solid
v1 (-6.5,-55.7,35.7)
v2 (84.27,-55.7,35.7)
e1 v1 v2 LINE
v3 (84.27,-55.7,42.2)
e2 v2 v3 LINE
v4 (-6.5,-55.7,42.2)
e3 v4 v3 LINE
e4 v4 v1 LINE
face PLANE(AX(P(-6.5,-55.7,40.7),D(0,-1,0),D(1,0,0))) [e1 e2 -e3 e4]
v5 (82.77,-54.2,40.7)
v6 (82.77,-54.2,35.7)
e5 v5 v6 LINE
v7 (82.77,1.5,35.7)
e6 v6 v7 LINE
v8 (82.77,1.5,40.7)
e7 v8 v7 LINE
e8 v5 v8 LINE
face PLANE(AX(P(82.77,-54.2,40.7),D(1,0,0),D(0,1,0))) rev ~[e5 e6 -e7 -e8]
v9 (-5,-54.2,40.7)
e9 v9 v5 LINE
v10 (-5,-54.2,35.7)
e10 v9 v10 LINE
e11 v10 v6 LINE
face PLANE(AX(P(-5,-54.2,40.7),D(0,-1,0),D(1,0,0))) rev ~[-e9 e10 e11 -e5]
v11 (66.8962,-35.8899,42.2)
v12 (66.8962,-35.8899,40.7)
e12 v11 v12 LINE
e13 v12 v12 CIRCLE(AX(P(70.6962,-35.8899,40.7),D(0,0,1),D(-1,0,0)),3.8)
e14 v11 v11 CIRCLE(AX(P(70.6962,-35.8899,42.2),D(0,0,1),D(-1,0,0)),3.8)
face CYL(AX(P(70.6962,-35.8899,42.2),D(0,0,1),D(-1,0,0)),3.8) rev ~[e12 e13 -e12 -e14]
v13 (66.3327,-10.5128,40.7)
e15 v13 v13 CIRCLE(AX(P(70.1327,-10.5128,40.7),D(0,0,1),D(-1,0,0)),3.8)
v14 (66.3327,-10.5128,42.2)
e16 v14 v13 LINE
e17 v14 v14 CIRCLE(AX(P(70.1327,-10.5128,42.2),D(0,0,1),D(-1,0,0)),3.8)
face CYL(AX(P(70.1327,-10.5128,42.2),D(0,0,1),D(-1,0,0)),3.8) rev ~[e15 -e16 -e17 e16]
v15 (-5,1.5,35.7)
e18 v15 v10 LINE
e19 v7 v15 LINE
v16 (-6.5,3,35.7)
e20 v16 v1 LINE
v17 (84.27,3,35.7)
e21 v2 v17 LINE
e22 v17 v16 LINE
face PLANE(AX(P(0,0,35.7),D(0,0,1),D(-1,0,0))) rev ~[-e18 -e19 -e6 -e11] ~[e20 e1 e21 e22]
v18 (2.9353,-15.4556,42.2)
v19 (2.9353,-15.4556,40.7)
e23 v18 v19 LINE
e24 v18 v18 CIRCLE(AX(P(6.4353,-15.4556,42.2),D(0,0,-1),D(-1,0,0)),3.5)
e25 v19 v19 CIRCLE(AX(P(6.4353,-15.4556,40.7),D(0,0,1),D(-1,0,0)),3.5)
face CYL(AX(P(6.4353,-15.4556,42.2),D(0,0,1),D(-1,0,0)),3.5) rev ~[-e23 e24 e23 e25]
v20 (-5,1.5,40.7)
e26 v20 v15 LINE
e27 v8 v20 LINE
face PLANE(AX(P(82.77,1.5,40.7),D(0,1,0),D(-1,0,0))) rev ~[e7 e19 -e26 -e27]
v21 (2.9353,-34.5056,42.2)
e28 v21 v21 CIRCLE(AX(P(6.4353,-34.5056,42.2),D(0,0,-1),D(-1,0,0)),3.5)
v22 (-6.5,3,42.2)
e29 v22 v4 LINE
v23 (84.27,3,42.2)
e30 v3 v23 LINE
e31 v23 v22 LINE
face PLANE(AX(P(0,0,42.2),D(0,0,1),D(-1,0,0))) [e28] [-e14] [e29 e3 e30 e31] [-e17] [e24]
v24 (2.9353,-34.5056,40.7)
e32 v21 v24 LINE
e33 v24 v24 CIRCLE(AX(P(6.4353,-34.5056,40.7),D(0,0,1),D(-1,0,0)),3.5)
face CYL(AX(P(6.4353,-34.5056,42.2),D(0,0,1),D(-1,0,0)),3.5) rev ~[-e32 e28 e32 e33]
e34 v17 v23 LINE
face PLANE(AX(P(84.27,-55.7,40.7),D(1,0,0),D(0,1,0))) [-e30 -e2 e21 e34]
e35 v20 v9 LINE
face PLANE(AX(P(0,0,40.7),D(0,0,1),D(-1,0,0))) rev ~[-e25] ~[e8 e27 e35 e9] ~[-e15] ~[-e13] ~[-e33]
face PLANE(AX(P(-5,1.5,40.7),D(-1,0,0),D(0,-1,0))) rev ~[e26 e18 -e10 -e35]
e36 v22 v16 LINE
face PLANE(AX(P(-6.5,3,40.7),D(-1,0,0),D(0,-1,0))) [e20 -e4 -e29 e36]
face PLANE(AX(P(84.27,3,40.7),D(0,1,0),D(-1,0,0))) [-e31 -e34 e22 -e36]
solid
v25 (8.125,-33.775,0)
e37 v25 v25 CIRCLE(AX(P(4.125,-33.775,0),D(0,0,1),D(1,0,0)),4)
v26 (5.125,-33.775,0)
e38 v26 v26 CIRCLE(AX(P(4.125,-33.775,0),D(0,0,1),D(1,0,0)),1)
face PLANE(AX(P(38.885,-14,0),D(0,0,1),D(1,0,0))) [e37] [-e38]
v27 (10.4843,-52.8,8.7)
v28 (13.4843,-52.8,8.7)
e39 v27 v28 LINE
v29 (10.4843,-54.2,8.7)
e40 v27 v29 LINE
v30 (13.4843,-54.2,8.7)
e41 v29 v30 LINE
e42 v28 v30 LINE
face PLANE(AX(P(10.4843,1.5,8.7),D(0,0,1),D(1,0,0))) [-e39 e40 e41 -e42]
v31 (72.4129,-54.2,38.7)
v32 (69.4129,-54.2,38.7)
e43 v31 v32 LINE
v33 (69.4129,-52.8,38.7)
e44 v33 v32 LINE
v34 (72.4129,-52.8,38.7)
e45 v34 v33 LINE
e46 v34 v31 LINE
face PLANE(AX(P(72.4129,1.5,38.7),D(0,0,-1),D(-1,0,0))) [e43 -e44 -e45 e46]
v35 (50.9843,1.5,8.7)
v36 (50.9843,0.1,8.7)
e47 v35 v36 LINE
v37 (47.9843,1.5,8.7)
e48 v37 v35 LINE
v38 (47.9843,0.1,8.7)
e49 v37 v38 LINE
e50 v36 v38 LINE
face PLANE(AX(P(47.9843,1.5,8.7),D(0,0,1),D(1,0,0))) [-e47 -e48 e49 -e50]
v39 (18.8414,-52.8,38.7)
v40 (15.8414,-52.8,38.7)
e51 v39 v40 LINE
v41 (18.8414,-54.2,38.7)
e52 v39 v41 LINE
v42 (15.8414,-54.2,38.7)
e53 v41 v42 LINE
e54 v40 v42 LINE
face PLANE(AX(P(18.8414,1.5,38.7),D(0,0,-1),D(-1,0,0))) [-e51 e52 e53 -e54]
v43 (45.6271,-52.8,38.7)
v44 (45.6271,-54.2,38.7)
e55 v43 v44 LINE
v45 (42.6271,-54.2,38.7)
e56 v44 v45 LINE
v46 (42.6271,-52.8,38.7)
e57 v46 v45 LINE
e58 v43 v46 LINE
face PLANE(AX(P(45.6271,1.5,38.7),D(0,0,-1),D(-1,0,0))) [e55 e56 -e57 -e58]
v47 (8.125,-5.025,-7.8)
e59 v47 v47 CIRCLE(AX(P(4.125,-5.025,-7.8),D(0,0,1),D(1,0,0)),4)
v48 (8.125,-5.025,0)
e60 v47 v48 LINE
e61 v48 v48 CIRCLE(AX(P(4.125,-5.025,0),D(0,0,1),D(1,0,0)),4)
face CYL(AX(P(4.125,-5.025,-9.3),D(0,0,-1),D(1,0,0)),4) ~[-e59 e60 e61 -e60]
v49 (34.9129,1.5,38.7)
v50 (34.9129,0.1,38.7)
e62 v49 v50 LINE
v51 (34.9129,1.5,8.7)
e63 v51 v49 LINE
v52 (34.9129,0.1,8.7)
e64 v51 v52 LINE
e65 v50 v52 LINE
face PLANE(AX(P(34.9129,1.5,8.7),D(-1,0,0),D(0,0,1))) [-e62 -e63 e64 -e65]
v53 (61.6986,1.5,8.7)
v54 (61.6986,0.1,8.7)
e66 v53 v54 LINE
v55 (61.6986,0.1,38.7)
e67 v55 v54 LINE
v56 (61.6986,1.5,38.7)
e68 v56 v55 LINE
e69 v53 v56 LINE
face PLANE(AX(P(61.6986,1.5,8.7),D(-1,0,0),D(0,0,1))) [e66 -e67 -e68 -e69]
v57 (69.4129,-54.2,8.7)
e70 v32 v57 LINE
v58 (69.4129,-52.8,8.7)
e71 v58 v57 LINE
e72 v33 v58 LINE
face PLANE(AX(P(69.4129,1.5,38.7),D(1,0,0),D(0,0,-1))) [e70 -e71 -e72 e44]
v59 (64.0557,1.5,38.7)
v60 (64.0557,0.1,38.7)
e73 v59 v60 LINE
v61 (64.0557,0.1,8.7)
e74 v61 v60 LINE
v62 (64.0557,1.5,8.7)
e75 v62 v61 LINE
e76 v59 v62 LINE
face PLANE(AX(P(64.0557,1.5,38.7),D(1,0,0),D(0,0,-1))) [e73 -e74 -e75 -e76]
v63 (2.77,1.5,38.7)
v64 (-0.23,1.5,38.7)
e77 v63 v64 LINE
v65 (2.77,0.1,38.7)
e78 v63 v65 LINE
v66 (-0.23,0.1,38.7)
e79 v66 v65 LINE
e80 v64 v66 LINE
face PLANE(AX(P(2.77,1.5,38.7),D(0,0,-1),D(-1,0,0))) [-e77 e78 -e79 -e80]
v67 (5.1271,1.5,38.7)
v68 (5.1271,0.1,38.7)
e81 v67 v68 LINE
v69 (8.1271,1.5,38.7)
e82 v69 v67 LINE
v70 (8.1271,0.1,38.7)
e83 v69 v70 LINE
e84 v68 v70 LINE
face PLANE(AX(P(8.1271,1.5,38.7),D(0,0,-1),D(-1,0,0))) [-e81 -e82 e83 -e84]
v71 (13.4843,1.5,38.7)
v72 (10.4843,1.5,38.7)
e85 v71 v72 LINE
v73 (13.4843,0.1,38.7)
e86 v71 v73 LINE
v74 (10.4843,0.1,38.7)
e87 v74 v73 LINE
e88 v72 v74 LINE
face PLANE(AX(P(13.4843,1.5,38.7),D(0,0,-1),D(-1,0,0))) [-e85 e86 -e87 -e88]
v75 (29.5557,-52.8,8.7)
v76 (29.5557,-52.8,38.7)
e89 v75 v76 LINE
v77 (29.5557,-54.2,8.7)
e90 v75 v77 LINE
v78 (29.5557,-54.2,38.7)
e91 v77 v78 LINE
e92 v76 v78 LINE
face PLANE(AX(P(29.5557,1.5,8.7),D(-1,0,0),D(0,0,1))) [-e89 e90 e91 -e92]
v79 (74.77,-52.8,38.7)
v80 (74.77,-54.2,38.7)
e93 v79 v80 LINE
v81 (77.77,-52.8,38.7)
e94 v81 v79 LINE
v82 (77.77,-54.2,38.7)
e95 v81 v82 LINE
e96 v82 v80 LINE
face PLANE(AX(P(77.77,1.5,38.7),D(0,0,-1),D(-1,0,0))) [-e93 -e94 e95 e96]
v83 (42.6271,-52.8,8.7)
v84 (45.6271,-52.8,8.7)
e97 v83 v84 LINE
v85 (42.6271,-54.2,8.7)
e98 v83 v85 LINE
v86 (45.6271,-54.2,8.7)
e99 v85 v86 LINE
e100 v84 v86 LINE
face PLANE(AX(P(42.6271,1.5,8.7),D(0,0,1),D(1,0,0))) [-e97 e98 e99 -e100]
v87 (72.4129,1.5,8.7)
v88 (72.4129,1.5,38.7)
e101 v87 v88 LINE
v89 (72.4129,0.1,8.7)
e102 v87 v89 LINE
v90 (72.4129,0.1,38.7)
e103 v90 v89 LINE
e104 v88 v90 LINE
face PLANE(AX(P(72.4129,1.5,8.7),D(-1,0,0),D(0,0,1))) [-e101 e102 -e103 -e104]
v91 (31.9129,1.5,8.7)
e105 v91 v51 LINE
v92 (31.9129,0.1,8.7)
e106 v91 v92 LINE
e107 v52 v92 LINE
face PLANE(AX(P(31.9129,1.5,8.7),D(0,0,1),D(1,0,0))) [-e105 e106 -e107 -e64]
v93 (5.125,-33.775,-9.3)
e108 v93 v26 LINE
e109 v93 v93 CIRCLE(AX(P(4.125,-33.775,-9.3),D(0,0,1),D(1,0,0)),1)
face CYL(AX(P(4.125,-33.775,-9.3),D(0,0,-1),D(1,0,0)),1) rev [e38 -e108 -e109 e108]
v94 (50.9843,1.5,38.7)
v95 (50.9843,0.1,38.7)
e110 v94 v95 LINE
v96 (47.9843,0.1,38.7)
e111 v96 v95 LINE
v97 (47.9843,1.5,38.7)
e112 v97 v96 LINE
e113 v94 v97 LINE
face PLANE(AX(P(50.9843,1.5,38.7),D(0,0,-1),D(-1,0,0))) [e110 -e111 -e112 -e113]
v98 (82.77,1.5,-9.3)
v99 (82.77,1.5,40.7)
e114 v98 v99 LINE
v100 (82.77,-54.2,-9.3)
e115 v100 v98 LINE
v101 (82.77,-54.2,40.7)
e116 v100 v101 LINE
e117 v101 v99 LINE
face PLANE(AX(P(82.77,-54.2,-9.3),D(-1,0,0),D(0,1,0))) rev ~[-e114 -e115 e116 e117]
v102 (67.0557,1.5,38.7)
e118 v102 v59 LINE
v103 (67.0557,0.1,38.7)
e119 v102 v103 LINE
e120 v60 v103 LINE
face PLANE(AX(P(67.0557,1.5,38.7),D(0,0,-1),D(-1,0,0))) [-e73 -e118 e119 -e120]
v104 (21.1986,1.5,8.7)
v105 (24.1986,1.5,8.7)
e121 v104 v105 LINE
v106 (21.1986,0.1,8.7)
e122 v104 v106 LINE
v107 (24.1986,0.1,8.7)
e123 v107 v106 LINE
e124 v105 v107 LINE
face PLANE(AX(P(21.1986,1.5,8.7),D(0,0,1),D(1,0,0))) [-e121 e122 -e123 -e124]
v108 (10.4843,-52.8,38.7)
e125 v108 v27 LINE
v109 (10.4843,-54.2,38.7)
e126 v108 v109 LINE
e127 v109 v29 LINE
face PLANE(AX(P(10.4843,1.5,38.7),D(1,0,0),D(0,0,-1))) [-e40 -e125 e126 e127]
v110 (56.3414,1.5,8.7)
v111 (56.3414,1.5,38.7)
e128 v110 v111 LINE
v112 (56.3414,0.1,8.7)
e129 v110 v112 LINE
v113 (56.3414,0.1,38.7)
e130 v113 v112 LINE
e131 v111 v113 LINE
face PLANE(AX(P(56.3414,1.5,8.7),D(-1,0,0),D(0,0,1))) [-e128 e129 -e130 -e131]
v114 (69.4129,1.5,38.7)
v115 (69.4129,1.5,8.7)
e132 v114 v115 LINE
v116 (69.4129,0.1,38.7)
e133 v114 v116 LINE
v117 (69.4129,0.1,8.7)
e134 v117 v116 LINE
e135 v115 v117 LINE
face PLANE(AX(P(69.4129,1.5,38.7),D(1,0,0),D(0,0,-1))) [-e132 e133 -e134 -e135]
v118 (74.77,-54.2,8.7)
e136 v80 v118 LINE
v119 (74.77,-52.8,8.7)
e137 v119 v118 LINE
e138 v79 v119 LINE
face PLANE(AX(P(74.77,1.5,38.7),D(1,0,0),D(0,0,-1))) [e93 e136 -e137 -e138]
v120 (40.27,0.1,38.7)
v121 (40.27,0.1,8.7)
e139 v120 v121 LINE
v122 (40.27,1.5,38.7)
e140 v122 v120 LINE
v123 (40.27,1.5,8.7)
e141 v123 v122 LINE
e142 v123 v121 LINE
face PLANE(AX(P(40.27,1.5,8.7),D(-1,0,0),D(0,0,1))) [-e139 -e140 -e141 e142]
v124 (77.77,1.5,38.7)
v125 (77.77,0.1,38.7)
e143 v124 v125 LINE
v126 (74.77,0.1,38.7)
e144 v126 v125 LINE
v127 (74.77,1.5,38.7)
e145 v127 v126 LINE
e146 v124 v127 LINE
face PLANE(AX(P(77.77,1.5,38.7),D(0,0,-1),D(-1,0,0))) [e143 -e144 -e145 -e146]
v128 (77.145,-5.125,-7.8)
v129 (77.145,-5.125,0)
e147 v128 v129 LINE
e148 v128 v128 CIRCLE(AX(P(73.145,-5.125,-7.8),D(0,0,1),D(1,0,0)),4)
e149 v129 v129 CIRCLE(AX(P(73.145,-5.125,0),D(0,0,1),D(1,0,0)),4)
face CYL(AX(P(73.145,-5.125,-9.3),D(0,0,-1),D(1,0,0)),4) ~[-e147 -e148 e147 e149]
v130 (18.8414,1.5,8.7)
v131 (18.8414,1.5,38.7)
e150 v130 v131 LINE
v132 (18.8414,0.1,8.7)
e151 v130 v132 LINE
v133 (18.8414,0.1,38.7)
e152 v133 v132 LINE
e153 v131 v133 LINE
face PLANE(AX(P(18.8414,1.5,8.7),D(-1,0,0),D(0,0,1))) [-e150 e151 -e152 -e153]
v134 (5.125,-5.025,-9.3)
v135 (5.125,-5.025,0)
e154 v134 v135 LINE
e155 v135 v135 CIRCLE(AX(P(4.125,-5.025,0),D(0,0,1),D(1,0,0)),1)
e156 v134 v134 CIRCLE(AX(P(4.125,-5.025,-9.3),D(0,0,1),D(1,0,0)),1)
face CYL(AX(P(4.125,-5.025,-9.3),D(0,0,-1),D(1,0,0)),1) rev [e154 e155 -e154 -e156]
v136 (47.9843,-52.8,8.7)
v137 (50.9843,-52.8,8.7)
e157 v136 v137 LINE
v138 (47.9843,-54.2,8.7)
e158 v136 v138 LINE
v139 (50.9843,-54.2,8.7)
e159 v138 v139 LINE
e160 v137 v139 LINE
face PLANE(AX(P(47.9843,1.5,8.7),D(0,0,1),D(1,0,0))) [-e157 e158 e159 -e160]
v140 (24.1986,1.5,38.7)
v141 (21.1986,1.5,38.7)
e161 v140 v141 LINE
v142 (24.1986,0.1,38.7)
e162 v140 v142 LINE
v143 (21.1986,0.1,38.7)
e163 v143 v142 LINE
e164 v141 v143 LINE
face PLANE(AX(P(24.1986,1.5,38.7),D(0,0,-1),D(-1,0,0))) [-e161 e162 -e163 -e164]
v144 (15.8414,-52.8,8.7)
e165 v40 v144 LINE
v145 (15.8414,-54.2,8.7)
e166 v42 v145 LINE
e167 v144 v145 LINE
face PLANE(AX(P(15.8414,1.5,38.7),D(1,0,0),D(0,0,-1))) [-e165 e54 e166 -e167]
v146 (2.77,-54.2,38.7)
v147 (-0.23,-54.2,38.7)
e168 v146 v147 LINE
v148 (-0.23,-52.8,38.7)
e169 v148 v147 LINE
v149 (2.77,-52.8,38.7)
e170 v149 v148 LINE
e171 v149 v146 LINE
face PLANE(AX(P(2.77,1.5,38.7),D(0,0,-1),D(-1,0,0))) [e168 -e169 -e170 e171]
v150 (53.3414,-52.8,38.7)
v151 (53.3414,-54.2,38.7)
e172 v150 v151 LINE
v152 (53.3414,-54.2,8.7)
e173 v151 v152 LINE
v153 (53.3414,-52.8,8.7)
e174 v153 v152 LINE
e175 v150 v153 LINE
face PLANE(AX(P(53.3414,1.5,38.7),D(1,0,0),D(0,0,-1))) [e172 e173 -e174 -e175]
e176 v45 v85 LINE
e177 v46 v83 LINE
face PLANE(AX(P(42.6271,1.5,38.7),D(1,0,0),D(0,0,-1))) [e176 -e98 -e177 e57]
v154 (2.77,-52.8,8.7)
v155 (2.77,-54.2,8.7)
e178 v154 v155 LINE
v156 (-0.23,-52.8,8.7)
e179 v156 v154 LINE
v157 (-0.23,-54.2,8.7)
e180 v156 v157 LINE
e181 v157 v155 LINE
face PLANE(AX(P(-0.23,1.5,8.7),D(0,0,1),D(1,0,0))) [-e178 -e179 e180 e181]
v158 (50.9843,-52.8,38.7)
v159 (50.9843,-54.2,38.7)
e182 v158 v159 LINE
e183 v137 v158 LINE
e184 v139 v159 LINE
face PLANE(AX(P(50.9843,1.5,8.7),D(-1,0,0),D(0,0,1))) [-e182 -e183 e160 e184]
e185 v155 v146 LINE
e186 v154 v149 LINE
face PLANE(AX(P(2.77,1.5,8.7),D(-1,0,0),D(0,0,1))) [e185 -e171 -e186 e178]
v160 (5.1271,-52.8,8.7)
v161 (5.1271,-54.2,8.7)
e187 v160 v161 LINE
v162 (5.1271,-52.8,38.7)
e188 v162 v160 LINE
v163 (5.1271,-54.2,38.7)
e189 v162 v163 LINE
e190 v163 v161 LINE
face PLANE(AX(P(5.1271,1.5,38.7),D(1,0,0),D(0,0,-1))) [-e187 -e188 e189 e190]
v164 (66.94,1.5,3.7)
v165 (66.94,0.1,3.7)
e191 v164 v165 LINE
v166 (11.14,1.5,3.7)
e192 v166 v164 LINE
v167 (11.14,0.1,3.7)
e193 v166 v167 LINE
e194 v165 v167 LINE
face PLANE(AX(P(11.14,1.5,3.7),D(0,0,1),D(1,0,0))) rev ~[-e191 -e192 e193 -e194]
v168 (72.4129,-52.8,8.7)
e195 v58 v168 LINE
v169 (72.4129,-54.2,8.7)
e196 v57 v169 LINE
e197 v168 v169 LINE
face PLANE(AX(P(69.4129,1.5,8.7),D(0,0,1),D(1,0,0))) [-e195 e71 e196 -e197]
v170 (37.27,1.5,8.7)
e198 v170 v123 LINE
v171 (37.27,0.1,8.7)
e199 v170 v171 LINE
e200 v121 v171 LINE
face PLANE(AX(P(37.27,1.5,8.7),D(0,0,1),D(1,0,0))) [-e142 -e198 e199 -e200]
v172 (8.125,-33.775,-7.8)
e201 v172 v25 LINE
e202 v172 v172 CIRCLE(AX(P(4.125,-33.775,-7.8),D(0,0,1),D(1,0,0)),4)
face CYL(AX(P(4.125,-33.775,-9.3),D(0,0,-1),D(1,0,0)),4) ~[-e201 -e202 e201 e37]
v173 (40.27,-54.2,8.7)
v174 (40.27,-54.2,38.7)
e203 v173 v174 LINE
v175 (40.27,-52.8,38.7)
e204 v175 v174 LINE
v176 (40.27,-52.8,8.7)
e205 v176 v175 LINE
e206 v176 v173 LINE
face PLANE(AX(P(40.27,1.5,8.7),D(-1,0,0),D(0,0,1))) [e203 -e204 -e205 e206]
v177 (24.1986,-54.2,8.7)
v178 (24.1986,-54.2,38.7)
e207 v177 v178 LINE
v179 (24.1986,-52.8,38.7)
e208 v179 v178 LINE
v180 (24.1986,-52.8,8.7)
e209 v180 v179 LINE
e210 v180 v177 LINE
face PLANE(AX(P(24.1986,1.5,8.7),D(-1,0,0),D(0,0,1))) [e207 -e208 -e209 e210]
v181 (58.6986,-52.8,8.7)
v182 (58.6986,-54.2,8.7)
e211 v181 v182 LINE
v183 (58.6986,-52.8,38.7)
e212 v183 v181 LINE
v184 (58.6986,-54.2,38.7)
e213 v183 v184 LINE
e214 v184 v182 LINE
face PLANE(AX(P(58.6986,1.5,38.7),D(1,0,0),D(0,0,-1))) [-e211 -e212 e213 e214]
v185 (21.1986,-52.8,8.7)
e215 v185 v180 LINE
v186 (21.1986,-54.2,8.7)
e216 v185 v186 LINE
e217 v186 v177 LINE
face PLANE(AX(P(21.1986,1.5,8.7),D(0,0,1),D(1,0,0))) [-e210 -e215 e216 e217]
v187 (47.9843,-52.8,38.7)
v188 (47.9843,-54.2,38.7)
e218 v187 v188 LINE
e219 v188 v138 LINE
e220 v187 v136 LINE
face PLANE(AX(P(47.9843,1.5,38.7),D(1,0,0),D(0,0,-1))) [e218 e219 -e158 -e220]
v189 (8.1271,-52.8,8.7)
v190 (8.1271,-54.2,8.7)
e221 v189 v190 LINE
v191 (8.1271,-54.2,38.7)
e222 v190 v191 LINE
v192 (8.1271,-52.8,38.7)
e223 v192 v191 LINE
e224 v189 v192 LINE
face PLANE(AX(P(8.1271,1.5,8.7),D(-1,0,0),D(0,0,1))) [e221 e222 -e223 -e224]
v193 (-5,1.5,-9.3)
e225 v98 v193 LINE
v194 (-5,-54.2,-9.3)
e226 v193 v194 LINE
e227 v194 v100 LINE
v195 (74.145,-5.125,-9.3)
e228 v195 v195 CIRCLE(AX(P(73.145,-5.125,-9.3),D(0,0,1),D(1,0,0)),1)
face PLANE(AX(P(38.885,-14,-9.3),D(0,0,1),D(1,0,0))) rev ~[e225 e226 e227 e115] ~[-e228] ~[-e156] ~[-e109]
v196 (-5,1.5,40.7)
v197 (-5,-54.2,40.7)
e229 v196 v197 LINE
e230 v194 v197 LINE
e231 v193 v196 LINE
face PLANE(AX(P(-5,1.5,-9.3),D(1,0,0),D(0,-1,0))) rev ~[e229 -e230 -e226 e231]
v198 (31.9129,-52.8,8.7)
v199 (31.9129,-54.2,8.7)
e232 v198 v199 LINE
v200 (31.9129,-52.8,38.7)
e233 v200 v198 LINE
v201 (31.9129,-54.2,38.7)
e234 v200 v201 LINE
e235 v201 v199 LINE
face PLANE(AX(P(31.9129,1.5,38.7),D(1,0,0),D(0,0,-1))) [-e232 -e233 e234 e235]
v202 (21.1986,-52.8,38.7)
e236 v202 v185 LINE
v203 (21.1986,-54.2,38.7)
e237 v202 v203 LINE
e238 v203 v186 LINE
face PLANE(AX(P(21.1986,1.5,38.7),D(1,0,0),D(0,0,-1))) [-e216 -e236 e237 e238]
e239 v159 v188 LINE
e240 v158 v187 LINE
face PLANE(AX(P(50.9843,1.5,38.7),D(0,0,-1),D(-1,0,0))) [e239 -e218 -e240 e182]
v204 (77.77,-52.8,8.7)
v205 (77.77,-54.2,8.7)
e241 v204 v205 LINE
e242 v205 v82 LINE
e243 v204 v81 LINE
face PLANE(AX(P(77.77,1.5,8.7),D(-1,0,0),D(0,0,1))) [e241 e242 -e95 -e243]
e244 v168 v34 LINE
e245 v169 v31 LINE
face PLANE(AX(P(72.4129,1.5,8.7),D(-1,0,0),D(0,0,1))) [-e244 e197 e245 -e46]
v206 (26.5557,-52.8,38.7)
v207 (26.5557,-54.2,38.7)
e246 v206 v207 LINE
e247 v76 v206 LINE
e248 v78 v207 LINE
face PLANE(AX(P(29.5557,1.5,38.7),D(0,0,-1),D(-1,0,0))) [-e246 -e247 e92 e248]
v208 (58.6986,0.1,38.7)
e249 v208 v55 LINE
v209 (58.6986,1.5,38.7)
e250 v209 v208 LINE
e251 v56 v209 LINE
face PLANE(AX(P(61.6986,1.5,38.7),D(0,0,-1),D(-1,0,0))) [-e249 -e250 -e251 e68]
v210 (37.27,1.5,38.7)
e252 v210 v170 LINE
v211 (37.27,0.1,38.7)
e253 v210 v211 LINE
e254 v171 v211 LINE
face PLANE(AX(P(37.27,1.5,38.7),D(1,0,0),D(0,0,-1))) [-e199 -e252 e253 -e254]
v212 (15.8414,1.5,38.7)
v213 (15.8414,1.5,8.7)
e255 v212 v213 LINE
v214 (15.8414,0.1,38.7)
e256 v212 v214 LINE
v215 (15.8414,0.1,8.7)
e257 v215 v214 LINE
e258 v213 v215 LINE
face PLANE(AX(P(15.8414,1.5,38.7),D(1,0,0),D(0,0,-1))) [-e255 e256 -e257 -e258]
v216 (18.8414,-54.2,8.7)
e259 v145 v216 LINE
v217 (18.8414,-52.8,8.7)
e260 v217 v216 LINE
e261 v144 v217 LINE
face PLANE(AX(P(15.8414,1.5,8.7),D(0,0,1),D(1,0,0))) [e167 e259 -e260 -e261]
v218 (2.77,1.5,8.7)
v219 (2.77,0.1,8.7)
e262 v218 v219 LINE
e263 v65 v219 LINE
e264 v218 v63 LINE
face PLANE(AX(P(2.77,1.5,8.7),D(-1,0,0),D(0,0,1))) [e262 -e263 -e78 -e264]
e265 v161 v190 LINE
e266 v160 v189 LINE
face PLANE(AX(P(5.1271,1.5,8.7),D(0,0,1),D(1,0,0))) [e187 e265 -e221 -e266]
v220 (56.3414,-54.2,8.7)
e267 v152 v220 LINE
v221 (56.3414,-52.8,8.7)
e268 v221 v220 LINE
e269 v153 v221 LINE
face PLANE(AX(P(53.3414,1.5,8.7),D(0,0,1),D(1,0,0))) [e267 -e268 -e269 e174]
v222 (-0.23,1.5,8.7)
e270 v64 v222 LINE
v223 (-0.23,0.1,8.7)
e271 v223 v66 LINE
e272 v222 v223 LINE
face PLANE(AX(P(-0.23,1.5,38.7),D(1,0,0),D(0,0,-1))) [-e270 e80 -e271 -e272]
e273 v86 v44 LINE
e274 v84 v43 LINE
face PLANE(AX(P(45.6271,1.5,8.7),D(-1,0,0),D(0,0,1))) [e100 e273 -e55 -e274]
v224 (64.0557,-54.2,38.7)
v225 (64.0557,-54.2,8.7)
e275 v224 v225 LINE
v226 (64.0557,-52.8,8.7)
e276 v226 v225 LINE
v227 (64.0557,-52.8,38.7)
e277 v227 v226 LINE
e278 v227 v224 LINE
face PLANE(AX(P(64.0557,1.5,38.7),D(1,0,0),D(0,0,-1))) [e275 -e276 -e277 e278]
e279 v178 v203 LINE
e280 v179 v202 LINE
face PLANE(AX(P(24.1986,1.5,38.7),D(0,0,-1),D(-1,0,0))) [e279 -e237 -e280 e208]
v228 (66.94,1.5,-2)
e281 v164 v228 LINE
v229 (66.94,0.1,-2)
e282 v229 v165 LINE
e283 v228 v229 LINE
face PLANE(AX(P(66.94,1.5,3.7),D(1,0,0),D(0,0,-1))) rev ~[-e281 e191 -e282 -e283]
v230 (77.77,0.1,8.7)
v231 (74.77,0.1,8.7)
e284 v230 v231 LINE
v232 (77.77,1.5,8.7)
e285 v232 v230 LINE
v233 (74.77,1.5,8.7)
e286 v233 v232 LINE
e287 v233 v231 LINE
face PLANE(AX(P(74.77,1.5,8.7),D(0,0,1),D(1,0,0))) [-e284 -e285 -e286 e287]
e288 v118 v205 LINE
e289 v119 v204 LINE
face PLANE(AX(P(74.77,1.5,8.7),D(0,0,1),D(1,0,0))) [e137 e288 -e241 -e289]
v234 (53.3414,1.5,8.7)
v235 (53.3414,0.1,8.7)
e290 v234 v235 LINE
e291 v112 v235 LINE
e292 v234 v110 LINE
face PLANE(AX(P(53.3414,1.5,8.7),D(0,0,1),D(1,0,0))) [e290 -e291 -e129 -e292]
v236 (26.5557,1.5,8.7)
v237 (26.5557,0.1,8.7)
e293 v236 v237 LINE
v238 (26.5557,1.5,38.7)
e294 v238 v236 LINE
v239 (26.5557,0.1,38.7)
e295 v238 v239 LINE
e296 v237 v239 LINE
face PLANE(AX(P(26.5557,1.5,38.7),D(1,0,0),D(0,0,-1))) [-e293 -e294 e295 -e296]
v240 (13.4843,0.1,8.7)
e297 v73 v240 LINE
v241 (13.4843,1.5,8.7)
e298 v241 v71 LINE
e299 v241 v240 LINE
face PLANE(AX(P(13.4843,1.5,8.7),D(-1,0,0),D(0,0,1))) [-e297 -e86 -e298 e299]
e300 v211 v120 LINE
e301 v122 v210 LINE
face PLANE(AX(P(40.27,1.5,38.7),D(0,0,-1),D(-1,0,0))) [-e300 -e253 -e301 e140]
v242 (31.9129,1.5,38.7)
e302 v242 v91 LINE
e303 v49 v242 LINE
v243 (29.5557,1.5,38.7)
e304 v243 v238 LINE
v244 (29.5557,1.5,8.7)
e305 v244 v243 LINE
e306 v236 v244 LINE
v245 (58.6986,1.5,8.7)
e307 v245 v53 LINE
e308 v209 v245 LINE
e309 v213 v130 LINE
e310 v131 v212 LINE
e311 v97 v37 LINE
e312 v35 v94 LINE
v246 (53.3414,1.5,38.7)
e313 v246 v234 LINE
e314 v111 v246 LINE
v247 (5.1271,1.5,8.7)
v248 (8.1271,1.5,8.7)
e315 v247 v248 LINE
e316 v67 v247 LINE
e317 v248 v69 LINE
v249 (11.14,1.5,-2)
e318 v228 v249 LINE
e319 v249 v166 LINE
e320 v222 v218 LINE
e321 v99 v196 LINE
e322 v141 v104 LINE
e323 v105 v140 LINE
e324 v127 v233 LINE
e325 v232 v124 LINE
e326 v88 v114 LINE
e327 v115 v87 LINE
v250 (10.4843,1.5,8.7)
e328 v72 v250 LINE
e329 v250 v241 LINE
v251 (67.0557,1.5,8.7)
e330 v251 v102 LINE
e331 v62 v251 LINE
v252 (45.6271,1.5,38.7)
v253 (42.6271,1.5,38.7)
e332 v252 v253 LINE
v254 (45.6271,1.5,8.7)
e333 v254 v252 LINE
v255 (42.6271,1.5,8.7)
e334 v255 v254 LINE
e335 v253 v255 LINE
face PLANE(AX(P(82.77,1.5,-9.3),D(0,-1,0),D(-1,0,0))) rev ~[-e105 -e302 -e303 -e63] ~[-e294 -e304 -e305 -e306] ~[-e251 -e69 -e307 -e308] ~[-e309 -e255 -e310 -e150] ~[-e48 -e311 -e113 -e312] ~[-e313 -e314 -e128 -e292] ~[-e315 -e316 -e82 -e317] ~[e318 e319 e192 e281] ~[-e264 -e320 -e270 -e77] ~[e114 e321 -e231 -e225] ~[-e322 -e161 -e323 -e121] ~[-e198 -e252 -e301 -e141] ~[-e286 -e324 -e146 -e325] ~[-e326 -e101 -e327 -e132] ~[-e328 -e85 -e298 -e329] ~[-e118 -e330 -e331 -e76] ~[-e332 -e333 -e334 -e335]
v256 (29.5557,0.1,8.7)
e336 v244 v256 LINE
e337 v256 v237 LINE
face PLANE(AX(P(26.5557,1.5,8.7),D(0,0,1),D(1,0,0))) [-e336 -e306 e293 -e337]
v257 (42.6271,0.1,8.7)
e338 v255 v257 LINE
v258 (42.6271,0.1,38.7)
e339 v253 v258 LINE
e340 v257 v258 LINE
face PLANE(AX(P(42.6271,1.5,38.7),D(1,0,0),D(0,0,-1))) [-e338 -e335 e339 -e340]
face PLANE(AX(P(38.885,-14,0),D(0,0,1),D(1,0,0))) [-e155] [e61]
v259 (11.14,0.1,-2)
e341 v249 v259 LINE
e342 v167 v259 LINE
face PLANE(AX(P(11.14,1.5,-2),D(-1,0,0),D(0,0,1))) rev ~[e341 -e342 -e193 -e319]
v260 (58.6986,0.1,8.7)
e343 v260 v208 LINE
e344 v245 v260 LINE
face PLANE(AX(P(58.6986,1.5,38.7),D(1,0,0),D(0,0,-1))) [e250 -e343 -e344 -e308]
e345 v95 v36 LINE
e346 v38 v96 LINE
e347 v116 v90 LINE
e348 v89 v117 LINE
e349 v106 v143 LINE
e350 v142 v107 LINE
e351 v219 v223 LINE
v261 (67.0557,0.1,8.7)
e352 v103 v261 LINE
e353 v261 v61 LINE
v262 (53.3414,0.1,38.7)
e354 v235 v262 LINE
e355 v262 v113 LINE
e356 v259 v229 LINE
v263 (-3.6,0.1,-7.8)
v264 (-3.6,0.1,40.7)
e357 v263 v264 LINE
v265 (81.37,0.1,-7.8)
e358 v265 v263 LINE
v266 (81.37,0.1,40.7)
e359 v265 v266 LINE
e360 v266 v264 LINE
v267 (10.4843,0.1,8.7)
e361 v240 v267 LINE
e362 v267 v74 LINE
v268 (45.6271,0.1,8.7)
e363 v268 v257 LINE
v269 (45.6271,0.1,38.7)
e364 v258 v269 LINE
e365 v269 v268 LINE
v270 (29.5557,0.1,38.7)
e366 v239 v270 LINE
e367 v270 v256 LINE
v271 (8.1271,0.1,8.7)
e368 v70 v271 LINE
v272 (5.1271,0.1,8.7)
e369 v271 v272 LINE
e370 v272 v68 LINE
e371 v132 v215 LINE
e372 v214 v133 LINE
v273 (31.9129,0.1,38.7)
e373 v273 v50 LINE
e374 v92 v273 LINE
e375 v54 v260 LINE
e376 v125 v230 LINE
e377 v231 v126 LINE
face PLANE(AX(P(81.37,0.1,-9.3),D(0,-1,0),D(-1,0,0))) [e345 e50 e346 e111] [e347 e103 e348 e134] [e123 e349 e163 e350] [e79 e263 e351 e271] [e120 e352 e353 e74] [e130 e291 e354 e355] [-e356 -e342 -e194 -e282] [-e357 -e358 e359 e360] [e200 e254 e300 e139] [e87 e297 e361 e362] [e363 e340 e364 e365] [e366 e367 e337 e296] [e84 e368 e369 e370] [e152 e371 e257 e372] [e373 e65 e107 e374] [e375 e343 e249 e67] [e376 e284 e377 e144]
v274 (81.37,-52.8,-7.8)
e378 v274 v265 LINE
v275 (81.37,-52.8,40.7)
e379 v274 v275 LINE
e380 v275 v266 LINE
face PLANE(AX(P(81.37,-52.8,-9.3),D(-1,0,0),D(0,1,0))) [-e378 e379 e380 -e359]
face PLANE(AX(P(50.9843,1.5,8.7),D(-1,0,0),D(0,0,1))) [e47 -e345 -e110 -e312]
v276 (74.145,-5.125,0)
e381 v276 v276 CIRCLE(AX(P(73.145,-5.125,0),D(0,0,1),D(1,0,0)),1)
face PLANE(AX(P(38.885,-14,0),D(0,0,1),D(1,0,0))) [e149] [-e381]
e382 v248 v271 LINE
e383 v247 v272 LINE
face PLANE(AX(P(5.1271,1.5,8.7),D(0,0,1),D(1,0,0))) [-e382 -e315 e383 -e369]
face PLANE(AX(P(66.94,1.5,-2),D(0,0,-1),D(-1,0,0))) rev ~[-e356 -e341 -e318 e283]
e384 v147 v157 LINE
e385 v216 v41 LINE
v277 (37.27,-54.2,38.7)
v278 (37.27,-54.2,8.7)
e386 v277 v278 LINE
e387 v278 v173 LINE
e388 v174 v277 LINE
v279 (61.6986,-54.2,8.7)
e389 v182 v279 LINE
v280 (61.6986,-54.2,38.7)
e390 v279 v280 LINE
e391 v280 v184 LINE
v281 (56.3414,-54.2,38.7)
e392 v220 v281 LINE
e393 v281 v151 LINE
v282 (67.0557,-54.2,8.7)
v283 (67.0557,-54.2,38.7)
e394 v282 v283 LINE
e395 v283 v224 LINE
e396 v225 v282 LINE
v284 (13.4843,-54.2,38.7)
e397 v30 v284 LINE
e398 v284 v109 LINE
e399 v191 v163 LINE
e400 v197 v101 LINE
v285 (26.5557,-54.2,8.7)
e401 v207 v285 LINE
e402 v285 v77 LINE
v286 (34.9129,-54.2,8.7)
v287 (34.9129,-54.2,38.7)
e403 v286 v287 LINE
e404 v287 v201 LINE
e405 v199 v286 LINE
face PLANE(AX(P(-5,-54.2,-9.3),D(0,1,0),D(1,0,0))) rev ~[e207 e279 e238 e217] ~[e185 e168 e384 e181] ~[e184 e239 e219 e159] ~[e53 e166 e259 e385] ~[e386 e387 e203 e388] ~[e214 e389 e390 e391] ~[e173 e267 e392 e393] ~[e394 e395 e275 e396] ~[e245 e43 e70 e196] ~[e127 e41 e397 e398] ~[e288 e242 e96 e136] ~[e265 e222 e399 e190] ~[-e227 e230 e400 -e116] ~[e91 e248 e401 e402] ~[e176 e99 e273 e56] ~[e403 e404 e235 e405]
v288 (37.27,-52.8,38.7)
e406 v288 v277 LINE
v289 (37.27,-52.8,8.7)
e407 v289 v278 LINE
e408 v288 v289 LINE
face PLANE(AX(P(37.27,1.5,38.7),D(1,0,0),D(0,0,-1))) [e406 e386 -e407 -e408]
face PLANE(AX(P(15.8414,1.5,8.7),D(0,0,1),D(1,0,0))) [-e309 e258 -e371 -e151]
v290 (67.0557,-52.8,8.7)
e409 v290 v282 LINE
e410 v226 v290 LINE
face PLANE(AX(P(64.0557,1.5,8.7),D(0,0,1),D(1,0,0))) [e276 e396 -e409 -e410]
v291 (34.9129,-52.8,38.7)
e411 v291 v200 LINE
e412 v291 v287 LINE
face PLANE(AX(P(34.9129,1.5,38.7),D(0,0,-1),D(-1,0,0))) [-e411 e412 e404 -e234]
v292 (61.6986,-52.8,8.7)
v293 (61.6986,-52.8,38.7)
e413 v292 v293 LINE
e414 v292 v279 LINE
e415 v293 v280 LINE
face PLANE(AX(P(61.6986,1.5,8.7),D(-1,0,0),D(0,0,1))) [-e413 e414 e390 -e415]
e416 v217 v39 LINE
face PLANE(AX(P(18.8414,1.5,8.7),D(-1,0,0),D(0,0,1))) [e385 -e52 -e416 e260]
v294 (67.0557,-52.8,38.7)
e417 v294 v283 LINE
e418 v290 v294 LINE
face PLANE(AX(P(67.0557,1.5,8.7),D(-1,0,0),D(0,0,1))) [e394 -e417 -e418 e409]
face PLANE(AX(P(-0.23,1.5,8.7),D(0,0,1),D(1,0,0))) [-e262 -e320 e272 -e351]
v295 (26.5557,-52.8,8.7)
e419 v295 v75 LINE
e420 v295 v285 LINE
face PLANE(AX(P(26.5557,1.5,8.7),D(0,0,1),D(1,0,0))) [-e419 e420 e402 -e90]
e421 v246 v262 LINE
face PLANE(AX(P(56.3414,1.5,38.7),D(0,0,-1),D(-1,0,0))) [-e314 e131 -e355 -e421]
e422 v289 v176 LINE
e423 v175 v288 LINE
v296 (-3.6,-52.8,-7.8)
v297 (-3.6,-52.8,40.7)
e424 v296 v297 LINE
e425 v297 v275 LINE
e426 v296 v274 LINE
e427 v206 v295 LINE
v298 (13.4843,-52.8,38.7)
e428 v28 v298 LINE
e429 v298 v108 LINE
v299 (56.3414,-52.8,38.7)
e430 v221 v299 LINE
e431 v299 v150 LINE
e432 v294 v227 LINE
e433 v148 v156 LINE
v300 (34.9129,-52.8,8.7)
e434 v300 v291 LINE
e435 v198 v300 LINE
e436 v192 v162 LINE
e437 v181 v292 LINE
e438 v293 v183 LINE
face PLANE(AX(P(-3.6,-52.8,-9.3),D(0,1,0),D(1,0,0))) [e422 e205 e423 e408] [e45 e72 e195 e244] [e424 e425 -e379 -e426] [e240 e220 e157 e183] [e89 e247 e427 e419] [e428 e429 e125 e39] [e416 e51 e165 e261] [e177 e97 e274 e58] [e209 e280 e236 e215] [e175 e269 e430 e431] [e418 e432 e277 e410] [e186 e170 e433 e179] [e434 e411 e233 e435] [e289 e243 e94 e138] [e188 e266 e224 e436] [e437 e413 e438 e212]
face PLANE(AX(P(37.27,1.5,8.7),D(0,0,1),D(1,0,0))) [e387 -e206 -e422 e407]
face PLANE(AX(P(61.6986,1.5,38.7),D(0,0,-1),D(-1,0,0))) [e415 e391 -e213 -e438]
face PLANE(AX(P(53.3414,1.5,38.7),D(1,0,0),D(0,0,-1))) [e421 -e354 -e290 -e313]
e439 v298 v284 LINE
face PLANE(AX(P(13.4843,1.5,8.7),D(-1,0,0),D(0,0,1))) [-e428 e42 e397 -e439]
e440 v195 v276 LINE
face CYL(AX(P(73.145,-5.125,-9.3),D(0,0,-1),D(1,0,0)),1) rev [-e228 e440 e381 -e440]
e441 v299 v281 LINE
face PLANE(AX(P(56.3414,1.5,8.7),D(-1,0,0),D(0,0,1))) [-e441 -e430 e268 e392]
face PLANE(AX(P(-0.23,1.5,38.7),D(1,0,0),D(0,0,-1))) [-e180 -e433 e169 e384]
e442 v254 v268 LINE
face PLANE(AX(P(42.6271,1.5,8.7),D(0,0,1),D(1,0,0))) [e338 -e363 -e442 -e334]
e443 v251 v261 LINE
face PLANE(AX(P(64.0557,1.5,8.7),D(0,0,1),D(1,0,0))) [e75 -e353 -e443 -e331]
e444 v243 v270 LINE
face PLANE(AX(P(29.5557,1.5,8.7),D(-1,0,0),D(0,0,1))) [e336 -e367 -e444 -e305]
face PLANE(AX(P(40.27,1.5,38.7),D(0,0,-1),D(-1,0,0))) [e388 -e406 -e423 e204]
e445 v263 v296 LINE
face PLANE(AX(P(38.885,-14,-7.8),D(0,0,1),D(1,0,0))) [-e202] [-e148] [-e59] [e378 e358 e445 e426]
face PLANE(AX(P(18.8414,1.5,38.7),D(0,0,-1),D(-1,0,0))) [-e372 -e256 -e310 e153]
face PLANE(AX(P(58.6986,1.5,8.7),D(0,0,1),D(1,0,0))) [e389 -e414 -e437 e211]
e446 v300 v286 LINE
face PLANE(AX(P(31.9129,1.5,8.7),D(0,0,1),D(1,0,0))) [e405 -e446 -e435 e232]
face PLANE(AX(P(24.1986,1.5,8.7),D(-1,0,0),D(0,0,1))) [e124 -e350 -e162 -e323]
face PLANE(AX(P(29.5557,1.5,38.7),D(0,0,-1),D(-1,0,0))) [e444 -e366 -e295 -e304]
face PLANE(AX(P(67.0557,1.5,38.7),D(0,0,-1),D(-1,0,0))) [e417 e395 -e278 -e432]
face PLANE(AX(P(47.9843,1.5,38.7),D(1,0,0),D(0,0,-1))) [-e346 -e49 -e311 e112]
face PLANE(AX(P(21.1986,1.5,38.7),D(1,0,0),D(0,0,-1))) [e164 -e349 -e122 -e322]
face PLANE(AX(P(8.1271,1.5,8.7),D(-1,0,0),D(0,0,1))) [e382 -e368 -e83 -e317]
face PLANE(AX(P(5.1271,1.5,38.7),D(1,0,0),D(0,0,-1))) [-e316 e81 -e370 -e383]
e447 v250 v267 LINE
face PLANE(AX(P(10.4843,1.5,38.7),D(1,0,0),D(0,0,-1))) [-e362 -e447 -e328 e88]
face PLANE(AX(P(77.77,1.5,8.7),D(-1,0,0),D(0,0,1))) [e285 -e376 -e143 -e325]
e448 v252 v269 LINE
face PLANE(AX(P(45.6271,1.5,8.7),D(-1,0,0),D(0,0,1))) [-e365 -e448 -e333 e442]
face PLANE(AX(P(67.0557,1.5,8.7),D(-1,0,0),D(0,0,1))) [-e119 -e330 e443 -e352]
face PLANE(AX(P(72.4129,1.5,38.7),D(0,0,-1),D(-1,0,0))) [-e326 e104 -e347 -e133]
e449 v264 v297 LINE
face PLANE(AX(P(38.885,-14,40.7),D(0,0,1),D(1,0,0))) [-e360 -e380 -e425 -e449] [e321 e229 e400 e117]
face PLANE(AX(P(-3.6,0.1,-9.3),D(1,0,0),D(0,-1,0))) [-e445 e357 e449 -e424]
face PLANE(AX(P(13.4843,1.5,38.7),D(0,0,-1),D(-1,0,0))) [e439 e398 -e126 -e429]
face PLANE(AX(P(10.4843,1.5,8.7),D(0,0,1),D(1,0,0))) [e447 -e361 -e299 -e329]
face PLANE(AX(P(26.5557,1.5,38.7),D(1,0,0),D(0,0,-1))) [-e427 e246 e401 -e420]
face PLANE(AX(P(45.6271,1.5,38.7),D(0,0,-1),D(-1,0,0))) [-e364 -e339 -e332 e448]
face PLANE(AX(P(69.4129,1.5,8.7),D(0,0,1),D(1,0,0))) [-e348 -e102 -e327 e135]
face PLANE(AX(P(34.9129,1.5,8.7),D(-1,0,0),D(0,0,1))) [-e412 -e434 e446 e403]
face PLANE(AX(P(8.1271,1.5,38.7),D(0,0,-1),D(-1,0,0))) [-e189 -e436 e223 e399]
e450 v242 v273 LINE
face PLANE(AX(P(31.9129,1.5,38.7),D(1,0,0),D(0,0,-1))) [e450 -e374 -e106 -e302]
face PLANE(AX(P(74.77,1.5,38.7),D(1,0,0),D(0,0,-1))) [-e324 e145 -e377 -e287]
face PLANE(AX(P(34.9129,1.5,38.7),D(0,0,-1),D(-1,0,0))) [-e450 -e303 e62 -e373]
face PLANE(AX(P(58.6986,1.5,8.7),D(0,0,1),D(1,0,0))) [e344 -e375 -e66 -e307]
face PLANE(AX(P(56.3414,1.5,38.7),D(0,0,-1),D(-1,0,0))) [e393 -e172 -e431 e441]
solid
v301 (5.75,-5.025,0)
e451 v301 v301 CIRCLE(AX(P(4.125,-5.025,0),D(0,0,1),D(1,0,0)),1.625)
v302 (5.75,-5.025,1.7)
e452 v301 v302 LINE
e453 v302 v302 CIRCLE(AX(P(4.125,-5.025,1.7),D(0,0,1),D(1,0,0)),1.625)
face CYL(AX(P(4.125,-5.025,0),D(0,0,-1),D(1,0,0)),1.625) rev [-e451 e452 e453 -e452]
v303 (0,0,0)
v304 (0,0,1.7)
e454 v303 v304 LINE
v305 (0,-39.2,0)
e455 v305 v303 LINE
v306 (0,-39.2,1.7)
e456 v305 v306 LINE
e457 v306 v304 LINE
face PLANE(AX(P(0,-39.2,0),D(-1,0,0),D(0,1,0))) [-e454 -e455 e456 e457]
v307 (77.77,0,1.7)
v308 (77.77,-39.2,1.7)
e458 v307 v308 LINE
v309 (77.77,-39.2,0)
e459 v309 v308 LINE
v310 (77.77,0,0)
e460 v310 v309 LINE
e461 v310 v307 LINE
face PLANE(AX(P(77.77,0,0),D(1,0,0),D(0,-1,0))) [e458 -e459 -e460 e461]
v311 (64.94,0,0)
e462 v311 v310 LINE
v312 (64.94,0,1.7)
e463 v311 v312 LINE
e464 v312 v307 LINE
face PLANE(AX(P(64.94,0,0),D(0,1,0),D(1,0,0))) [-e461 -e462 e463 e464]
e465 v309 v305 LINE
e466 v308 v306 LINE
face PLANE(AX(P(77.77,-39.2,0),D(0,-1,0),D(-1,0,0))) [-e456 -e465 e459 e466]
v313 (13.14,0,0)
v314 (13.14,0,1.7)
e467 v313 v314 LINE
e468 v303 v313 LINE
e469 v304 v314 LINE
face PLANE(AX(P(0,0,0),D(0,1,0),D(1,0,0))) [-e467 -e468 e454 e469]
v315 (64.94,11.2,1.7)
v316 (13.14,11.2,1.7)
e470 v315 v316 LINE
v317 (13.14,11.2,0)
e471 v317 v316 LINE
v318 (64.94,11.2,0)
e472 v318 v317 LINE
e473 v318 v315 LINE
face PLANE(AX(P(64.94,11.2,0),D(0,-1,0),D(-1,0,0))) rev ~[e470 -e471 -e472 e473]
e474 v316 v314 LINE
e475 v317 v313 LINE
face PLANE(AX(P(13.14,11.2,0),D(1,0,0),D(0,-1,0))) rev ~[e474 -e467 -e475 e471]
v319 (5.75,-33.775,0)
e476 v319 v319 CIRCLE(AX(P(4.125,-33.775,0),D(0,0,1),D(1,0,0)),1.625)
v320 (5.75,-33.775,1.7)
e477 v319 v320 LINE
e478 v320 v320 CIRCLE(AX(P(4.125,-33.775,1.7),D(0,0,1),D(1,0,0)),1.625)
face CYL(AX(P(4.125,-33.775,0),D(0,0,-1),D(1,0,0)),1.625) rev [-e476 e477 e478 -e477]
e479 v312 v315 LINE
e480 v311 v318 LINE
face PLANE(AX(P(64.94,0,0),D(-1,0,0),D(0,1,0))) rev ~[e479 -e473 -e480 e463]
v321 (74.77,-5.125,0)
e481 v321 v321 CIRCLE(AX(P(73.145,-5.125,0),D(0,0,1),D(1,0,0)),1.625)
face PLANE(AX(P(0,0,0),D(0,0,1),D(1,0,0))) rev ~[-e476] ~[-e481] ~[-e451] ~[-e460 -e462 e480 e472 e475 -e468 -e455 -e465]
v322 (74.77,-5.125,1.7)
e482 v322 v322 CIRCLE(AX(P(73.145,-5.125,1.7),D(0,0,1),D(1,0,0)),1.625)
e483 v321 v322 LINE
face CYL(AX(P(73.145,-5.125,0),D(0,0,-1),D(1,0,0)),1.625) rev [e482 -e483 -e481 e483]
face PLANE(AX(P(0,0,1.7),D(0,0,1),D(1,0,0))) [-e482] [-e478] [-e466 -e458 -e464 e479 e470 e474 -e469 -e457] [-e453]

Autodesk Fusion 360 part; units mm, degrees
sketch "Sketch1" plane through (0, 0, 0) normal (0, 0, 1) x (1, 0, 0) in component "Board"
  line L0 (0, 0) -> (77.77, 0)
  line L1 (77.77, 0) -> (77.77, -39.2)
  line L2 (77.77, -39.2) -> (0, -39.2)
  line L3 (0, -39.2) -> (0, 0)
  line L4 (13.14, 0) -> (64.94, 0)
  line L5 (64.94, 0) -> (64.94, 11.2)
  line L6 (64.94, 11.2) -> (13.14, 11.2)
  line L7 (13.14, 11.2) -> (13.14, 0)
  circle A0 centre (4.125, -5.025) radius 1.625
  circle A1 centre (73.145, -5.125) radius 1.625
  circle A2 centre (4.125, -33.775) radius 1.625
  dimension "d1" = 77.77
  dimension "d2" = 39.2
  dimension "d3" = 51.8
  dimension "d4" = 11.2
  dimension "d5" = 13.14
  dimension "d6" = 12.83
  dimension "d7" = 3.25
  dimension "d8" = 3.25
  dimension "d9" = 3.25
  dimension "d10" = 4.125
  dimension "d11" = 5.425
  dimension "d12" = 4.125
  dimension "d13" = 5.025
  dimension "d14" = 4.625
  dimension "d15" = 5.125
extrude "Extrude1" add sketch "Sketch1" along normal blind 1.7 makes body 1 in component "Board"
ref_plane "WorkPlane1" through (38.885, -14, -9.3) normal (0, 0, 1) x (1, 0, 0) in component "Case"
sketch "Sketch1 (2)" plane through (38.885, -14, -9.3) normal (0, 0, 1) x (1, 0, 0) in component "Case"
  line L0 (-43.885, -40.2) -> (43.885, -40.2)
  line L1 (43.885, -40.2) -> (43.885, 15.5)
  line L2 (43.885, 15.5) -> (-43.885, 15.5)
  line L3 (-43.885, 15.5) -> (-43.885, -40.2)
  line L4 (-38.885, -25.2) -> (38.885, -25.2)
  line L5 (-38.885, 14) -> (-38.885, -25.2)
  line L6 (38.885, -25.2) -> (38.885, 14)
  line L7 (-25.745, 14) -> (-38.885, 14)
  line L8 (-42.485, 14.1) -> (-42.485, -38.8)
  line L9 (-42.485, -38.8) -> (42.485, -38.8)
  line L10 (42.485, -38.8) -> (42.485, 14.1)
  line L11 (42.485, 14.1) -> (-42.485, 14.1)
  circle A0 centre (-34.76, 8.975) radius 1.625
  circle A1 centre (-34.76, -19.775) radius 1.625
  circle A2 centre (34.26, 8.875) radius 1.625
  circle A3 centre (-34.76, 8.975) radius 4
  circle A4 centre (34.26, 8.875) radius 4
  circle A5 centre (-34.76, -19.775) radius 4
  circle A6 centre (-34.76, 8.975) radius 1
  circle A7 centre (34.26, 8.875) radius 1
  circle A8 centre (-34.76, -19.775) radius 1
  dimension "d19" = 15
  dimension "d20" = 5
  dimension "d21" = 5
  dimension "d22" = 1.5
  dimension "d23" = 1.4
  dimension "d24" = 8
  dimension "d25" = 8
  dimension "d26" = 8
  dimension "d29" = 2
  dimension "d30" = 2
  dimension "d31" = 2
extrude "Extrude1'" add sketch "Sketch1 (2)" along normal up to surface (9.3 mm away) separate body contours A0 | A1 | A2 | A3 | A4 | A5 makes body 2 at (8.12, -33.9744, -3.1) makes body 3 at (8.12, -5.2244, -3.1) makes body 4 at (77.14, -5.3244, -3.1) in component "Case"
extrude "Extrude2" add sketch "Sketch1 (2)" along normal blind 50 separate body contours L0 L1 L2 L3 makes body 5 in component "Case"
sketch "Sketch2" plane through (0, 1.5, 0) normal (0, 1, 0) x (-1, 0, 0) in component "Case"
  line L0 (-82.77, -9.3) -> (5, -9.3)
  line L1 (5, -9.3) -> (5, 40.7)
  line L2 (5, 40.7) -> (-82.77, 40.7)
  line L3 (-82.77, 40.7) -> (-82.77, -9.3)
  line L4 (-64.94, 0) -> (-13.14, 0)
  line L5 (-13.14, 0) -> (-13.14, 1.7)
  line L6 (-13.14, 1.7) -> (-64.94, 1.7)
  line L7 (-64.94, 1.7) -> (-64.94, 0)
  line L8 (-66.94, -2) -> (-11.14, -2)
  line L9 (-11.14, -2) -> (-11.14, 3.7)
  line L10 (-11.14, 3.7) -> (-66.94, 3.7)
  line L11 (-66.94, 3.7) -> (-66.94, -2)
  line L12 (-77.77, 38.7) -> (-74.77, 38.7)
  line L13 (-74.77, 38.7) -> (-74.77, 8.7)
  line L14 (-74.77, 8.7) -> (-77.77, 8.7)
  line L15 (-77.77, 8.7) -> (-77.77, 38.7)
  line L16 (-69.4129, 38.7) -> (-69.4129, 8.7)
  line L17 (-72.4129, 8.7) -> (-72.4129, 38.7)
  line L18 (-72.4129, 38.7) -> (-69.4129, 38.7)
  line L19 (-69.4129, 8.7) -> (-72.4129, 8.7)
  line L20 (-64.0557, 38.7) -> (-64.0557, 8.7)
  line L21 (-67.0557, 8.7) -> (-67.0557, 38.7)
  line L22 (-67.0557, 38.7) -> (-64.0557, 38.7)
  line L23 (-64.0557, 8.7) -> (-67.0557, 8.7)
  line L24 (-58.6986, 38.7) -> (-58.6986, 8.7)
  line L25 (-61.6986, 8.7) -> (-61.6986, 38.7)
  line L26 (-61.6986, 38.7) -> (-58.6986, 38.7)
  line L27 (-58.6986, 8.7) -> (-61.6986, 8.7)
  line L28 (-53.3414, 38.7) -> (-53.3414, 8.7)
  line L29 (-56.3414, 8.7) -> (-56.3414, 38.7)
  line L30 (-56.3414, 38.7) -> (-53.3414, 38.7)
  line L31 (-53.3414, 8.7) -> (-56.3414, 8.7)
  line L32 (-47.9843, 38.7) -> (-47.9843, 8.7)
  line L33 (-50.9843, 8.7) -> (-50.9843, 38.7)
  line L34 (-50.9843, 38.7) -> (-47.9843, 38.7)
  line L35 (-47.9843, 8.7) -> (-50.9843, 8.7)
  line L36 (-42.6271, 38.7) -> (-42.6271, 8.7)
  line L37 (-45.6271, 8.7) -> (-45.6271, 38.7)
  line L38 (-45.6271, 38.7) -> (-42.6271, 38.7)
  line L39 (-42.6271, 8.7) -> (-45.6271, 8.7)
  line L40 (-37.27, 38.7) -> (-37.27, 8.7)
  line L41 (-40.27, 8.7) -> (-40.27, 38.7)
  line L42 (-40.27, 38.7) -> (-37.27, 38.7)
  line L43 (-37.27, 8.7) -> (-40.27, 8.7)
  line L44 (-31.9129, 38.7) -> (-31.9129, 8.7)
  line L45 (-34.9129, 8.7) -> (-34.9129, 38.7)
  line L46 (-34.9129, 38.7) -> (-31.9129, 38.7)
  line L47 (-31.9129, 8.7) -> (-34.9129, 8.7)
  line L48 (-26.5557, 38.7) -> (-26.5557, 8.7)
  line L49 (-29.5557, 8.7) -> (-29.5557, 38.7)
  line L50 (-29.5557, 38.7) -> (-26.5557, 38.7)
  line L51 (-26.5557, 8.7) -> (-29.5557, 8.7)
  line L52 (-21.1986, 38.7) -> (-21.1986, 8.7)
  line L53 (-24.1986, 8.7) -> (-24.1986, 38.7)
  line L54 (-24.1986, 38.7) -> (-21.1986, 38.7)
  line L55 (-21.1986, 8.7) -> (-24.1986, 8.7)
  line L56 (-15.8414, 38.7) -> (-15.8414, 8.7)
  line L57 (-18.8414, 8.7) -> (-18.8414, 38.7)
  line L58 (-18.8414, 38.7) -> (-15.8414, 38.7)
  line L59 (-15.8414, 8.7) -> (-18.8414, 8.7)
  line L60 (-10.4843, 38.7) -> (-10.4843, 8.7)
  line L61 (-13.4843, 8.7) -> (-13.4843, 38.7)
  line L62 (-13.4843, 38.7) -> (-10.4843, 38.7)
  line L63 (-10.4843, 8.7) -> (-13.4843, 8.7)
  line L64 (-5.1271, 38.7) -> (-5.1271, 8.7)
  line L65 (-8.1271, 8.7) -> (-8.1271, 38.7)
  line L66 (-8.1271, 38.7) -> (-5.1271, 38.7)
  line L67 (-5.1271, 8.7) -> (-8.1271, 8.7)
  line L68 (0.23, 38.7) -> (0.23, 8.7)
  line L69 (-2.77, 8.7) -> (-2.77, 38.7)
  line L70 (-2.77, 38.7) -> (0.23, 38.7)
  line L71 (0.23, 8.7) -> (-2.77, 8.7)
  dimension "d34" = 2
  dimension "d39" = 30
  dimension "d40" = 3
  dimension "d41" = 5
  dimension "d42" = 2
  dimension "d45" = 75
  dimension "d46" = 0
extrude "Extrude3" cut sketch "Sketch2" against normal blind 5 contours L4 L5 L6 L7 | L8 L9 L10 L11 bodies 5 in component "Case"
extrude "Extrude4" add sketch "Sketch1 (2)" along normal blind 1.5 contours L8 L9 L10 L11 bodies 4 2 3 5 in component "Case"
extrude "Extrude5" cut sketch "Sketch2" against normal blind 79 contours L12 L13 L14 L15 | L16 L17 L18 L19 | L20 L21 L22 L23 | L24 L25 L26 L27 | L28 L29 L30 L31 | L32 L33 L34 L35 | L36 L37 L38 L39 | L40 L41 L42 L43 | L44 L45 L46 L47 | L48 L49 L50 L51 | L52 L53 L54 L55 | L56 L57 L58 L59 | L60 L61 L62 L63 | L64 L65 L66 L67 | L68 L69 L70 L71 bodies 4 in component "Case"
sketch "Sketch1 (3)" plane through (0, 0, 40.7) normal (0, 0, 1) x (-1, 0, 0) in component "Component"
  line L0 (3.6, -0.1) -> (-81.37, -0.1)
  line L1 (-81.37, -0.1) -> (-81.37, 52.8)
  line L2 (-81.37, 52.8) -> (3.6, 52.8)
  line L3 (3.6, 52.8) -> (3.6, -0.1)
  line L4 (5, -1.5) -> (5, 54.2)
  line L5 (5, 54.2) -> (-82.77, 54.2)
  line L6 (-82.77, 54.2) -> (-82.77, -1.5)
  line L7 (-82.77, -1.5) -> (5, -1.5)
  line L8 (5, -1.5) -> (5, 54.2)
  line L9 (-82.77, -1.5) -> (5, -1.5)
  line L10 (-82.77, 54.2) -> (-82.77, -1.5)
  line L11 (5, 54.2) -> (-82.77, 54.2)
  line L12 (-84.27, 55.7) -> (-84.27, -3)
  line L13 (-84.27, -3) -> (6.5, -3)
  line L14 (6.5, -3) -> (6.5, 55.7)
  line L15 (6.5, 55.7) -> (-84.27, 55.7)
  dimension "d49" = 1.5
extrude "Extrude1''" add sketch "Sketch1 (3)" against normal blind 5 separate body contours L12 L13 L14 L15 makes body 6 in component "Component"
extrude "Extrude2'" add sketch "Sketch1 (3)" along normal blind 1.5 contours L0 L1 L2 L3 | L4 L5 L6 L7 L8 L9 L10 L11 | L12 L13 L14 L15 bodies 6 in component "Component"
sketch "Sketch2 (2)" plane through (0, 0, 42.2) normal (0, 0, 1) x (-1, 0, 0) in component "Component"
  line L0 (6.5, 55.7) -> (-84.27, 55.7)
  line L1 (-84.27, 55.7) -> (-84.27, -3)
  line L2 (-84.27, -3) -> (6.5, -3)
  line L3 (6.5, -3) -> (6.5, 55.7)
  circle A0 centre (-6.4353, 15.4556) radius 3.5
  circle A1 centre (-6.4353, 34.5056) radius 3.5
  line L4 (-6.4353, 34.5056) -> (-6.4353, 15.4556)
  circle A2 centre (-70.1327, 10.5128) radius 3.8
  circle A3 centre (-70.6962, 35.8899) radius 3.8
  dimension "d54" = 7
  dimension "d55" = 7
  dimension "d56" = 19.05
  dimension "d57" = 7.6
  dimension "d58" = 7.6
extrude "Extrude3'" cut sketch "Sketch2 (2)" against normal blind 2 contours A0 | A1 | A2 | A3 bodies 6 in component "Component"
component "Board" placed x (1, 0, 0) y (0, 1, 0) z (0, 0, 1) at (0, 0, 0)
component "Case" placed x (1, 0, 0) y (0, 1, 0) z (0, 0, 1) at (0, 0, 0)
component "Component" placed x (1, 0, 0) y (0, 1, 0) z (0, 0, 1) at (0, 0, 0)
equation "d10 = 2.5 mm + ( 3.25 / 2 ) * 1 mm"
equation "d11 = 3.8 mm + ( 3.25 / 2 ) * 1 mm"
equation "d13 = 3.4 mm + ( 3.25 / 2 ) * 1 mm"
equation "d14 = 3 mm + ( 3.25 / 2 ) * 1 mm"
equation "d15 = 3.5 mm + ( 3.25 / 2 ) * 1 mm"
